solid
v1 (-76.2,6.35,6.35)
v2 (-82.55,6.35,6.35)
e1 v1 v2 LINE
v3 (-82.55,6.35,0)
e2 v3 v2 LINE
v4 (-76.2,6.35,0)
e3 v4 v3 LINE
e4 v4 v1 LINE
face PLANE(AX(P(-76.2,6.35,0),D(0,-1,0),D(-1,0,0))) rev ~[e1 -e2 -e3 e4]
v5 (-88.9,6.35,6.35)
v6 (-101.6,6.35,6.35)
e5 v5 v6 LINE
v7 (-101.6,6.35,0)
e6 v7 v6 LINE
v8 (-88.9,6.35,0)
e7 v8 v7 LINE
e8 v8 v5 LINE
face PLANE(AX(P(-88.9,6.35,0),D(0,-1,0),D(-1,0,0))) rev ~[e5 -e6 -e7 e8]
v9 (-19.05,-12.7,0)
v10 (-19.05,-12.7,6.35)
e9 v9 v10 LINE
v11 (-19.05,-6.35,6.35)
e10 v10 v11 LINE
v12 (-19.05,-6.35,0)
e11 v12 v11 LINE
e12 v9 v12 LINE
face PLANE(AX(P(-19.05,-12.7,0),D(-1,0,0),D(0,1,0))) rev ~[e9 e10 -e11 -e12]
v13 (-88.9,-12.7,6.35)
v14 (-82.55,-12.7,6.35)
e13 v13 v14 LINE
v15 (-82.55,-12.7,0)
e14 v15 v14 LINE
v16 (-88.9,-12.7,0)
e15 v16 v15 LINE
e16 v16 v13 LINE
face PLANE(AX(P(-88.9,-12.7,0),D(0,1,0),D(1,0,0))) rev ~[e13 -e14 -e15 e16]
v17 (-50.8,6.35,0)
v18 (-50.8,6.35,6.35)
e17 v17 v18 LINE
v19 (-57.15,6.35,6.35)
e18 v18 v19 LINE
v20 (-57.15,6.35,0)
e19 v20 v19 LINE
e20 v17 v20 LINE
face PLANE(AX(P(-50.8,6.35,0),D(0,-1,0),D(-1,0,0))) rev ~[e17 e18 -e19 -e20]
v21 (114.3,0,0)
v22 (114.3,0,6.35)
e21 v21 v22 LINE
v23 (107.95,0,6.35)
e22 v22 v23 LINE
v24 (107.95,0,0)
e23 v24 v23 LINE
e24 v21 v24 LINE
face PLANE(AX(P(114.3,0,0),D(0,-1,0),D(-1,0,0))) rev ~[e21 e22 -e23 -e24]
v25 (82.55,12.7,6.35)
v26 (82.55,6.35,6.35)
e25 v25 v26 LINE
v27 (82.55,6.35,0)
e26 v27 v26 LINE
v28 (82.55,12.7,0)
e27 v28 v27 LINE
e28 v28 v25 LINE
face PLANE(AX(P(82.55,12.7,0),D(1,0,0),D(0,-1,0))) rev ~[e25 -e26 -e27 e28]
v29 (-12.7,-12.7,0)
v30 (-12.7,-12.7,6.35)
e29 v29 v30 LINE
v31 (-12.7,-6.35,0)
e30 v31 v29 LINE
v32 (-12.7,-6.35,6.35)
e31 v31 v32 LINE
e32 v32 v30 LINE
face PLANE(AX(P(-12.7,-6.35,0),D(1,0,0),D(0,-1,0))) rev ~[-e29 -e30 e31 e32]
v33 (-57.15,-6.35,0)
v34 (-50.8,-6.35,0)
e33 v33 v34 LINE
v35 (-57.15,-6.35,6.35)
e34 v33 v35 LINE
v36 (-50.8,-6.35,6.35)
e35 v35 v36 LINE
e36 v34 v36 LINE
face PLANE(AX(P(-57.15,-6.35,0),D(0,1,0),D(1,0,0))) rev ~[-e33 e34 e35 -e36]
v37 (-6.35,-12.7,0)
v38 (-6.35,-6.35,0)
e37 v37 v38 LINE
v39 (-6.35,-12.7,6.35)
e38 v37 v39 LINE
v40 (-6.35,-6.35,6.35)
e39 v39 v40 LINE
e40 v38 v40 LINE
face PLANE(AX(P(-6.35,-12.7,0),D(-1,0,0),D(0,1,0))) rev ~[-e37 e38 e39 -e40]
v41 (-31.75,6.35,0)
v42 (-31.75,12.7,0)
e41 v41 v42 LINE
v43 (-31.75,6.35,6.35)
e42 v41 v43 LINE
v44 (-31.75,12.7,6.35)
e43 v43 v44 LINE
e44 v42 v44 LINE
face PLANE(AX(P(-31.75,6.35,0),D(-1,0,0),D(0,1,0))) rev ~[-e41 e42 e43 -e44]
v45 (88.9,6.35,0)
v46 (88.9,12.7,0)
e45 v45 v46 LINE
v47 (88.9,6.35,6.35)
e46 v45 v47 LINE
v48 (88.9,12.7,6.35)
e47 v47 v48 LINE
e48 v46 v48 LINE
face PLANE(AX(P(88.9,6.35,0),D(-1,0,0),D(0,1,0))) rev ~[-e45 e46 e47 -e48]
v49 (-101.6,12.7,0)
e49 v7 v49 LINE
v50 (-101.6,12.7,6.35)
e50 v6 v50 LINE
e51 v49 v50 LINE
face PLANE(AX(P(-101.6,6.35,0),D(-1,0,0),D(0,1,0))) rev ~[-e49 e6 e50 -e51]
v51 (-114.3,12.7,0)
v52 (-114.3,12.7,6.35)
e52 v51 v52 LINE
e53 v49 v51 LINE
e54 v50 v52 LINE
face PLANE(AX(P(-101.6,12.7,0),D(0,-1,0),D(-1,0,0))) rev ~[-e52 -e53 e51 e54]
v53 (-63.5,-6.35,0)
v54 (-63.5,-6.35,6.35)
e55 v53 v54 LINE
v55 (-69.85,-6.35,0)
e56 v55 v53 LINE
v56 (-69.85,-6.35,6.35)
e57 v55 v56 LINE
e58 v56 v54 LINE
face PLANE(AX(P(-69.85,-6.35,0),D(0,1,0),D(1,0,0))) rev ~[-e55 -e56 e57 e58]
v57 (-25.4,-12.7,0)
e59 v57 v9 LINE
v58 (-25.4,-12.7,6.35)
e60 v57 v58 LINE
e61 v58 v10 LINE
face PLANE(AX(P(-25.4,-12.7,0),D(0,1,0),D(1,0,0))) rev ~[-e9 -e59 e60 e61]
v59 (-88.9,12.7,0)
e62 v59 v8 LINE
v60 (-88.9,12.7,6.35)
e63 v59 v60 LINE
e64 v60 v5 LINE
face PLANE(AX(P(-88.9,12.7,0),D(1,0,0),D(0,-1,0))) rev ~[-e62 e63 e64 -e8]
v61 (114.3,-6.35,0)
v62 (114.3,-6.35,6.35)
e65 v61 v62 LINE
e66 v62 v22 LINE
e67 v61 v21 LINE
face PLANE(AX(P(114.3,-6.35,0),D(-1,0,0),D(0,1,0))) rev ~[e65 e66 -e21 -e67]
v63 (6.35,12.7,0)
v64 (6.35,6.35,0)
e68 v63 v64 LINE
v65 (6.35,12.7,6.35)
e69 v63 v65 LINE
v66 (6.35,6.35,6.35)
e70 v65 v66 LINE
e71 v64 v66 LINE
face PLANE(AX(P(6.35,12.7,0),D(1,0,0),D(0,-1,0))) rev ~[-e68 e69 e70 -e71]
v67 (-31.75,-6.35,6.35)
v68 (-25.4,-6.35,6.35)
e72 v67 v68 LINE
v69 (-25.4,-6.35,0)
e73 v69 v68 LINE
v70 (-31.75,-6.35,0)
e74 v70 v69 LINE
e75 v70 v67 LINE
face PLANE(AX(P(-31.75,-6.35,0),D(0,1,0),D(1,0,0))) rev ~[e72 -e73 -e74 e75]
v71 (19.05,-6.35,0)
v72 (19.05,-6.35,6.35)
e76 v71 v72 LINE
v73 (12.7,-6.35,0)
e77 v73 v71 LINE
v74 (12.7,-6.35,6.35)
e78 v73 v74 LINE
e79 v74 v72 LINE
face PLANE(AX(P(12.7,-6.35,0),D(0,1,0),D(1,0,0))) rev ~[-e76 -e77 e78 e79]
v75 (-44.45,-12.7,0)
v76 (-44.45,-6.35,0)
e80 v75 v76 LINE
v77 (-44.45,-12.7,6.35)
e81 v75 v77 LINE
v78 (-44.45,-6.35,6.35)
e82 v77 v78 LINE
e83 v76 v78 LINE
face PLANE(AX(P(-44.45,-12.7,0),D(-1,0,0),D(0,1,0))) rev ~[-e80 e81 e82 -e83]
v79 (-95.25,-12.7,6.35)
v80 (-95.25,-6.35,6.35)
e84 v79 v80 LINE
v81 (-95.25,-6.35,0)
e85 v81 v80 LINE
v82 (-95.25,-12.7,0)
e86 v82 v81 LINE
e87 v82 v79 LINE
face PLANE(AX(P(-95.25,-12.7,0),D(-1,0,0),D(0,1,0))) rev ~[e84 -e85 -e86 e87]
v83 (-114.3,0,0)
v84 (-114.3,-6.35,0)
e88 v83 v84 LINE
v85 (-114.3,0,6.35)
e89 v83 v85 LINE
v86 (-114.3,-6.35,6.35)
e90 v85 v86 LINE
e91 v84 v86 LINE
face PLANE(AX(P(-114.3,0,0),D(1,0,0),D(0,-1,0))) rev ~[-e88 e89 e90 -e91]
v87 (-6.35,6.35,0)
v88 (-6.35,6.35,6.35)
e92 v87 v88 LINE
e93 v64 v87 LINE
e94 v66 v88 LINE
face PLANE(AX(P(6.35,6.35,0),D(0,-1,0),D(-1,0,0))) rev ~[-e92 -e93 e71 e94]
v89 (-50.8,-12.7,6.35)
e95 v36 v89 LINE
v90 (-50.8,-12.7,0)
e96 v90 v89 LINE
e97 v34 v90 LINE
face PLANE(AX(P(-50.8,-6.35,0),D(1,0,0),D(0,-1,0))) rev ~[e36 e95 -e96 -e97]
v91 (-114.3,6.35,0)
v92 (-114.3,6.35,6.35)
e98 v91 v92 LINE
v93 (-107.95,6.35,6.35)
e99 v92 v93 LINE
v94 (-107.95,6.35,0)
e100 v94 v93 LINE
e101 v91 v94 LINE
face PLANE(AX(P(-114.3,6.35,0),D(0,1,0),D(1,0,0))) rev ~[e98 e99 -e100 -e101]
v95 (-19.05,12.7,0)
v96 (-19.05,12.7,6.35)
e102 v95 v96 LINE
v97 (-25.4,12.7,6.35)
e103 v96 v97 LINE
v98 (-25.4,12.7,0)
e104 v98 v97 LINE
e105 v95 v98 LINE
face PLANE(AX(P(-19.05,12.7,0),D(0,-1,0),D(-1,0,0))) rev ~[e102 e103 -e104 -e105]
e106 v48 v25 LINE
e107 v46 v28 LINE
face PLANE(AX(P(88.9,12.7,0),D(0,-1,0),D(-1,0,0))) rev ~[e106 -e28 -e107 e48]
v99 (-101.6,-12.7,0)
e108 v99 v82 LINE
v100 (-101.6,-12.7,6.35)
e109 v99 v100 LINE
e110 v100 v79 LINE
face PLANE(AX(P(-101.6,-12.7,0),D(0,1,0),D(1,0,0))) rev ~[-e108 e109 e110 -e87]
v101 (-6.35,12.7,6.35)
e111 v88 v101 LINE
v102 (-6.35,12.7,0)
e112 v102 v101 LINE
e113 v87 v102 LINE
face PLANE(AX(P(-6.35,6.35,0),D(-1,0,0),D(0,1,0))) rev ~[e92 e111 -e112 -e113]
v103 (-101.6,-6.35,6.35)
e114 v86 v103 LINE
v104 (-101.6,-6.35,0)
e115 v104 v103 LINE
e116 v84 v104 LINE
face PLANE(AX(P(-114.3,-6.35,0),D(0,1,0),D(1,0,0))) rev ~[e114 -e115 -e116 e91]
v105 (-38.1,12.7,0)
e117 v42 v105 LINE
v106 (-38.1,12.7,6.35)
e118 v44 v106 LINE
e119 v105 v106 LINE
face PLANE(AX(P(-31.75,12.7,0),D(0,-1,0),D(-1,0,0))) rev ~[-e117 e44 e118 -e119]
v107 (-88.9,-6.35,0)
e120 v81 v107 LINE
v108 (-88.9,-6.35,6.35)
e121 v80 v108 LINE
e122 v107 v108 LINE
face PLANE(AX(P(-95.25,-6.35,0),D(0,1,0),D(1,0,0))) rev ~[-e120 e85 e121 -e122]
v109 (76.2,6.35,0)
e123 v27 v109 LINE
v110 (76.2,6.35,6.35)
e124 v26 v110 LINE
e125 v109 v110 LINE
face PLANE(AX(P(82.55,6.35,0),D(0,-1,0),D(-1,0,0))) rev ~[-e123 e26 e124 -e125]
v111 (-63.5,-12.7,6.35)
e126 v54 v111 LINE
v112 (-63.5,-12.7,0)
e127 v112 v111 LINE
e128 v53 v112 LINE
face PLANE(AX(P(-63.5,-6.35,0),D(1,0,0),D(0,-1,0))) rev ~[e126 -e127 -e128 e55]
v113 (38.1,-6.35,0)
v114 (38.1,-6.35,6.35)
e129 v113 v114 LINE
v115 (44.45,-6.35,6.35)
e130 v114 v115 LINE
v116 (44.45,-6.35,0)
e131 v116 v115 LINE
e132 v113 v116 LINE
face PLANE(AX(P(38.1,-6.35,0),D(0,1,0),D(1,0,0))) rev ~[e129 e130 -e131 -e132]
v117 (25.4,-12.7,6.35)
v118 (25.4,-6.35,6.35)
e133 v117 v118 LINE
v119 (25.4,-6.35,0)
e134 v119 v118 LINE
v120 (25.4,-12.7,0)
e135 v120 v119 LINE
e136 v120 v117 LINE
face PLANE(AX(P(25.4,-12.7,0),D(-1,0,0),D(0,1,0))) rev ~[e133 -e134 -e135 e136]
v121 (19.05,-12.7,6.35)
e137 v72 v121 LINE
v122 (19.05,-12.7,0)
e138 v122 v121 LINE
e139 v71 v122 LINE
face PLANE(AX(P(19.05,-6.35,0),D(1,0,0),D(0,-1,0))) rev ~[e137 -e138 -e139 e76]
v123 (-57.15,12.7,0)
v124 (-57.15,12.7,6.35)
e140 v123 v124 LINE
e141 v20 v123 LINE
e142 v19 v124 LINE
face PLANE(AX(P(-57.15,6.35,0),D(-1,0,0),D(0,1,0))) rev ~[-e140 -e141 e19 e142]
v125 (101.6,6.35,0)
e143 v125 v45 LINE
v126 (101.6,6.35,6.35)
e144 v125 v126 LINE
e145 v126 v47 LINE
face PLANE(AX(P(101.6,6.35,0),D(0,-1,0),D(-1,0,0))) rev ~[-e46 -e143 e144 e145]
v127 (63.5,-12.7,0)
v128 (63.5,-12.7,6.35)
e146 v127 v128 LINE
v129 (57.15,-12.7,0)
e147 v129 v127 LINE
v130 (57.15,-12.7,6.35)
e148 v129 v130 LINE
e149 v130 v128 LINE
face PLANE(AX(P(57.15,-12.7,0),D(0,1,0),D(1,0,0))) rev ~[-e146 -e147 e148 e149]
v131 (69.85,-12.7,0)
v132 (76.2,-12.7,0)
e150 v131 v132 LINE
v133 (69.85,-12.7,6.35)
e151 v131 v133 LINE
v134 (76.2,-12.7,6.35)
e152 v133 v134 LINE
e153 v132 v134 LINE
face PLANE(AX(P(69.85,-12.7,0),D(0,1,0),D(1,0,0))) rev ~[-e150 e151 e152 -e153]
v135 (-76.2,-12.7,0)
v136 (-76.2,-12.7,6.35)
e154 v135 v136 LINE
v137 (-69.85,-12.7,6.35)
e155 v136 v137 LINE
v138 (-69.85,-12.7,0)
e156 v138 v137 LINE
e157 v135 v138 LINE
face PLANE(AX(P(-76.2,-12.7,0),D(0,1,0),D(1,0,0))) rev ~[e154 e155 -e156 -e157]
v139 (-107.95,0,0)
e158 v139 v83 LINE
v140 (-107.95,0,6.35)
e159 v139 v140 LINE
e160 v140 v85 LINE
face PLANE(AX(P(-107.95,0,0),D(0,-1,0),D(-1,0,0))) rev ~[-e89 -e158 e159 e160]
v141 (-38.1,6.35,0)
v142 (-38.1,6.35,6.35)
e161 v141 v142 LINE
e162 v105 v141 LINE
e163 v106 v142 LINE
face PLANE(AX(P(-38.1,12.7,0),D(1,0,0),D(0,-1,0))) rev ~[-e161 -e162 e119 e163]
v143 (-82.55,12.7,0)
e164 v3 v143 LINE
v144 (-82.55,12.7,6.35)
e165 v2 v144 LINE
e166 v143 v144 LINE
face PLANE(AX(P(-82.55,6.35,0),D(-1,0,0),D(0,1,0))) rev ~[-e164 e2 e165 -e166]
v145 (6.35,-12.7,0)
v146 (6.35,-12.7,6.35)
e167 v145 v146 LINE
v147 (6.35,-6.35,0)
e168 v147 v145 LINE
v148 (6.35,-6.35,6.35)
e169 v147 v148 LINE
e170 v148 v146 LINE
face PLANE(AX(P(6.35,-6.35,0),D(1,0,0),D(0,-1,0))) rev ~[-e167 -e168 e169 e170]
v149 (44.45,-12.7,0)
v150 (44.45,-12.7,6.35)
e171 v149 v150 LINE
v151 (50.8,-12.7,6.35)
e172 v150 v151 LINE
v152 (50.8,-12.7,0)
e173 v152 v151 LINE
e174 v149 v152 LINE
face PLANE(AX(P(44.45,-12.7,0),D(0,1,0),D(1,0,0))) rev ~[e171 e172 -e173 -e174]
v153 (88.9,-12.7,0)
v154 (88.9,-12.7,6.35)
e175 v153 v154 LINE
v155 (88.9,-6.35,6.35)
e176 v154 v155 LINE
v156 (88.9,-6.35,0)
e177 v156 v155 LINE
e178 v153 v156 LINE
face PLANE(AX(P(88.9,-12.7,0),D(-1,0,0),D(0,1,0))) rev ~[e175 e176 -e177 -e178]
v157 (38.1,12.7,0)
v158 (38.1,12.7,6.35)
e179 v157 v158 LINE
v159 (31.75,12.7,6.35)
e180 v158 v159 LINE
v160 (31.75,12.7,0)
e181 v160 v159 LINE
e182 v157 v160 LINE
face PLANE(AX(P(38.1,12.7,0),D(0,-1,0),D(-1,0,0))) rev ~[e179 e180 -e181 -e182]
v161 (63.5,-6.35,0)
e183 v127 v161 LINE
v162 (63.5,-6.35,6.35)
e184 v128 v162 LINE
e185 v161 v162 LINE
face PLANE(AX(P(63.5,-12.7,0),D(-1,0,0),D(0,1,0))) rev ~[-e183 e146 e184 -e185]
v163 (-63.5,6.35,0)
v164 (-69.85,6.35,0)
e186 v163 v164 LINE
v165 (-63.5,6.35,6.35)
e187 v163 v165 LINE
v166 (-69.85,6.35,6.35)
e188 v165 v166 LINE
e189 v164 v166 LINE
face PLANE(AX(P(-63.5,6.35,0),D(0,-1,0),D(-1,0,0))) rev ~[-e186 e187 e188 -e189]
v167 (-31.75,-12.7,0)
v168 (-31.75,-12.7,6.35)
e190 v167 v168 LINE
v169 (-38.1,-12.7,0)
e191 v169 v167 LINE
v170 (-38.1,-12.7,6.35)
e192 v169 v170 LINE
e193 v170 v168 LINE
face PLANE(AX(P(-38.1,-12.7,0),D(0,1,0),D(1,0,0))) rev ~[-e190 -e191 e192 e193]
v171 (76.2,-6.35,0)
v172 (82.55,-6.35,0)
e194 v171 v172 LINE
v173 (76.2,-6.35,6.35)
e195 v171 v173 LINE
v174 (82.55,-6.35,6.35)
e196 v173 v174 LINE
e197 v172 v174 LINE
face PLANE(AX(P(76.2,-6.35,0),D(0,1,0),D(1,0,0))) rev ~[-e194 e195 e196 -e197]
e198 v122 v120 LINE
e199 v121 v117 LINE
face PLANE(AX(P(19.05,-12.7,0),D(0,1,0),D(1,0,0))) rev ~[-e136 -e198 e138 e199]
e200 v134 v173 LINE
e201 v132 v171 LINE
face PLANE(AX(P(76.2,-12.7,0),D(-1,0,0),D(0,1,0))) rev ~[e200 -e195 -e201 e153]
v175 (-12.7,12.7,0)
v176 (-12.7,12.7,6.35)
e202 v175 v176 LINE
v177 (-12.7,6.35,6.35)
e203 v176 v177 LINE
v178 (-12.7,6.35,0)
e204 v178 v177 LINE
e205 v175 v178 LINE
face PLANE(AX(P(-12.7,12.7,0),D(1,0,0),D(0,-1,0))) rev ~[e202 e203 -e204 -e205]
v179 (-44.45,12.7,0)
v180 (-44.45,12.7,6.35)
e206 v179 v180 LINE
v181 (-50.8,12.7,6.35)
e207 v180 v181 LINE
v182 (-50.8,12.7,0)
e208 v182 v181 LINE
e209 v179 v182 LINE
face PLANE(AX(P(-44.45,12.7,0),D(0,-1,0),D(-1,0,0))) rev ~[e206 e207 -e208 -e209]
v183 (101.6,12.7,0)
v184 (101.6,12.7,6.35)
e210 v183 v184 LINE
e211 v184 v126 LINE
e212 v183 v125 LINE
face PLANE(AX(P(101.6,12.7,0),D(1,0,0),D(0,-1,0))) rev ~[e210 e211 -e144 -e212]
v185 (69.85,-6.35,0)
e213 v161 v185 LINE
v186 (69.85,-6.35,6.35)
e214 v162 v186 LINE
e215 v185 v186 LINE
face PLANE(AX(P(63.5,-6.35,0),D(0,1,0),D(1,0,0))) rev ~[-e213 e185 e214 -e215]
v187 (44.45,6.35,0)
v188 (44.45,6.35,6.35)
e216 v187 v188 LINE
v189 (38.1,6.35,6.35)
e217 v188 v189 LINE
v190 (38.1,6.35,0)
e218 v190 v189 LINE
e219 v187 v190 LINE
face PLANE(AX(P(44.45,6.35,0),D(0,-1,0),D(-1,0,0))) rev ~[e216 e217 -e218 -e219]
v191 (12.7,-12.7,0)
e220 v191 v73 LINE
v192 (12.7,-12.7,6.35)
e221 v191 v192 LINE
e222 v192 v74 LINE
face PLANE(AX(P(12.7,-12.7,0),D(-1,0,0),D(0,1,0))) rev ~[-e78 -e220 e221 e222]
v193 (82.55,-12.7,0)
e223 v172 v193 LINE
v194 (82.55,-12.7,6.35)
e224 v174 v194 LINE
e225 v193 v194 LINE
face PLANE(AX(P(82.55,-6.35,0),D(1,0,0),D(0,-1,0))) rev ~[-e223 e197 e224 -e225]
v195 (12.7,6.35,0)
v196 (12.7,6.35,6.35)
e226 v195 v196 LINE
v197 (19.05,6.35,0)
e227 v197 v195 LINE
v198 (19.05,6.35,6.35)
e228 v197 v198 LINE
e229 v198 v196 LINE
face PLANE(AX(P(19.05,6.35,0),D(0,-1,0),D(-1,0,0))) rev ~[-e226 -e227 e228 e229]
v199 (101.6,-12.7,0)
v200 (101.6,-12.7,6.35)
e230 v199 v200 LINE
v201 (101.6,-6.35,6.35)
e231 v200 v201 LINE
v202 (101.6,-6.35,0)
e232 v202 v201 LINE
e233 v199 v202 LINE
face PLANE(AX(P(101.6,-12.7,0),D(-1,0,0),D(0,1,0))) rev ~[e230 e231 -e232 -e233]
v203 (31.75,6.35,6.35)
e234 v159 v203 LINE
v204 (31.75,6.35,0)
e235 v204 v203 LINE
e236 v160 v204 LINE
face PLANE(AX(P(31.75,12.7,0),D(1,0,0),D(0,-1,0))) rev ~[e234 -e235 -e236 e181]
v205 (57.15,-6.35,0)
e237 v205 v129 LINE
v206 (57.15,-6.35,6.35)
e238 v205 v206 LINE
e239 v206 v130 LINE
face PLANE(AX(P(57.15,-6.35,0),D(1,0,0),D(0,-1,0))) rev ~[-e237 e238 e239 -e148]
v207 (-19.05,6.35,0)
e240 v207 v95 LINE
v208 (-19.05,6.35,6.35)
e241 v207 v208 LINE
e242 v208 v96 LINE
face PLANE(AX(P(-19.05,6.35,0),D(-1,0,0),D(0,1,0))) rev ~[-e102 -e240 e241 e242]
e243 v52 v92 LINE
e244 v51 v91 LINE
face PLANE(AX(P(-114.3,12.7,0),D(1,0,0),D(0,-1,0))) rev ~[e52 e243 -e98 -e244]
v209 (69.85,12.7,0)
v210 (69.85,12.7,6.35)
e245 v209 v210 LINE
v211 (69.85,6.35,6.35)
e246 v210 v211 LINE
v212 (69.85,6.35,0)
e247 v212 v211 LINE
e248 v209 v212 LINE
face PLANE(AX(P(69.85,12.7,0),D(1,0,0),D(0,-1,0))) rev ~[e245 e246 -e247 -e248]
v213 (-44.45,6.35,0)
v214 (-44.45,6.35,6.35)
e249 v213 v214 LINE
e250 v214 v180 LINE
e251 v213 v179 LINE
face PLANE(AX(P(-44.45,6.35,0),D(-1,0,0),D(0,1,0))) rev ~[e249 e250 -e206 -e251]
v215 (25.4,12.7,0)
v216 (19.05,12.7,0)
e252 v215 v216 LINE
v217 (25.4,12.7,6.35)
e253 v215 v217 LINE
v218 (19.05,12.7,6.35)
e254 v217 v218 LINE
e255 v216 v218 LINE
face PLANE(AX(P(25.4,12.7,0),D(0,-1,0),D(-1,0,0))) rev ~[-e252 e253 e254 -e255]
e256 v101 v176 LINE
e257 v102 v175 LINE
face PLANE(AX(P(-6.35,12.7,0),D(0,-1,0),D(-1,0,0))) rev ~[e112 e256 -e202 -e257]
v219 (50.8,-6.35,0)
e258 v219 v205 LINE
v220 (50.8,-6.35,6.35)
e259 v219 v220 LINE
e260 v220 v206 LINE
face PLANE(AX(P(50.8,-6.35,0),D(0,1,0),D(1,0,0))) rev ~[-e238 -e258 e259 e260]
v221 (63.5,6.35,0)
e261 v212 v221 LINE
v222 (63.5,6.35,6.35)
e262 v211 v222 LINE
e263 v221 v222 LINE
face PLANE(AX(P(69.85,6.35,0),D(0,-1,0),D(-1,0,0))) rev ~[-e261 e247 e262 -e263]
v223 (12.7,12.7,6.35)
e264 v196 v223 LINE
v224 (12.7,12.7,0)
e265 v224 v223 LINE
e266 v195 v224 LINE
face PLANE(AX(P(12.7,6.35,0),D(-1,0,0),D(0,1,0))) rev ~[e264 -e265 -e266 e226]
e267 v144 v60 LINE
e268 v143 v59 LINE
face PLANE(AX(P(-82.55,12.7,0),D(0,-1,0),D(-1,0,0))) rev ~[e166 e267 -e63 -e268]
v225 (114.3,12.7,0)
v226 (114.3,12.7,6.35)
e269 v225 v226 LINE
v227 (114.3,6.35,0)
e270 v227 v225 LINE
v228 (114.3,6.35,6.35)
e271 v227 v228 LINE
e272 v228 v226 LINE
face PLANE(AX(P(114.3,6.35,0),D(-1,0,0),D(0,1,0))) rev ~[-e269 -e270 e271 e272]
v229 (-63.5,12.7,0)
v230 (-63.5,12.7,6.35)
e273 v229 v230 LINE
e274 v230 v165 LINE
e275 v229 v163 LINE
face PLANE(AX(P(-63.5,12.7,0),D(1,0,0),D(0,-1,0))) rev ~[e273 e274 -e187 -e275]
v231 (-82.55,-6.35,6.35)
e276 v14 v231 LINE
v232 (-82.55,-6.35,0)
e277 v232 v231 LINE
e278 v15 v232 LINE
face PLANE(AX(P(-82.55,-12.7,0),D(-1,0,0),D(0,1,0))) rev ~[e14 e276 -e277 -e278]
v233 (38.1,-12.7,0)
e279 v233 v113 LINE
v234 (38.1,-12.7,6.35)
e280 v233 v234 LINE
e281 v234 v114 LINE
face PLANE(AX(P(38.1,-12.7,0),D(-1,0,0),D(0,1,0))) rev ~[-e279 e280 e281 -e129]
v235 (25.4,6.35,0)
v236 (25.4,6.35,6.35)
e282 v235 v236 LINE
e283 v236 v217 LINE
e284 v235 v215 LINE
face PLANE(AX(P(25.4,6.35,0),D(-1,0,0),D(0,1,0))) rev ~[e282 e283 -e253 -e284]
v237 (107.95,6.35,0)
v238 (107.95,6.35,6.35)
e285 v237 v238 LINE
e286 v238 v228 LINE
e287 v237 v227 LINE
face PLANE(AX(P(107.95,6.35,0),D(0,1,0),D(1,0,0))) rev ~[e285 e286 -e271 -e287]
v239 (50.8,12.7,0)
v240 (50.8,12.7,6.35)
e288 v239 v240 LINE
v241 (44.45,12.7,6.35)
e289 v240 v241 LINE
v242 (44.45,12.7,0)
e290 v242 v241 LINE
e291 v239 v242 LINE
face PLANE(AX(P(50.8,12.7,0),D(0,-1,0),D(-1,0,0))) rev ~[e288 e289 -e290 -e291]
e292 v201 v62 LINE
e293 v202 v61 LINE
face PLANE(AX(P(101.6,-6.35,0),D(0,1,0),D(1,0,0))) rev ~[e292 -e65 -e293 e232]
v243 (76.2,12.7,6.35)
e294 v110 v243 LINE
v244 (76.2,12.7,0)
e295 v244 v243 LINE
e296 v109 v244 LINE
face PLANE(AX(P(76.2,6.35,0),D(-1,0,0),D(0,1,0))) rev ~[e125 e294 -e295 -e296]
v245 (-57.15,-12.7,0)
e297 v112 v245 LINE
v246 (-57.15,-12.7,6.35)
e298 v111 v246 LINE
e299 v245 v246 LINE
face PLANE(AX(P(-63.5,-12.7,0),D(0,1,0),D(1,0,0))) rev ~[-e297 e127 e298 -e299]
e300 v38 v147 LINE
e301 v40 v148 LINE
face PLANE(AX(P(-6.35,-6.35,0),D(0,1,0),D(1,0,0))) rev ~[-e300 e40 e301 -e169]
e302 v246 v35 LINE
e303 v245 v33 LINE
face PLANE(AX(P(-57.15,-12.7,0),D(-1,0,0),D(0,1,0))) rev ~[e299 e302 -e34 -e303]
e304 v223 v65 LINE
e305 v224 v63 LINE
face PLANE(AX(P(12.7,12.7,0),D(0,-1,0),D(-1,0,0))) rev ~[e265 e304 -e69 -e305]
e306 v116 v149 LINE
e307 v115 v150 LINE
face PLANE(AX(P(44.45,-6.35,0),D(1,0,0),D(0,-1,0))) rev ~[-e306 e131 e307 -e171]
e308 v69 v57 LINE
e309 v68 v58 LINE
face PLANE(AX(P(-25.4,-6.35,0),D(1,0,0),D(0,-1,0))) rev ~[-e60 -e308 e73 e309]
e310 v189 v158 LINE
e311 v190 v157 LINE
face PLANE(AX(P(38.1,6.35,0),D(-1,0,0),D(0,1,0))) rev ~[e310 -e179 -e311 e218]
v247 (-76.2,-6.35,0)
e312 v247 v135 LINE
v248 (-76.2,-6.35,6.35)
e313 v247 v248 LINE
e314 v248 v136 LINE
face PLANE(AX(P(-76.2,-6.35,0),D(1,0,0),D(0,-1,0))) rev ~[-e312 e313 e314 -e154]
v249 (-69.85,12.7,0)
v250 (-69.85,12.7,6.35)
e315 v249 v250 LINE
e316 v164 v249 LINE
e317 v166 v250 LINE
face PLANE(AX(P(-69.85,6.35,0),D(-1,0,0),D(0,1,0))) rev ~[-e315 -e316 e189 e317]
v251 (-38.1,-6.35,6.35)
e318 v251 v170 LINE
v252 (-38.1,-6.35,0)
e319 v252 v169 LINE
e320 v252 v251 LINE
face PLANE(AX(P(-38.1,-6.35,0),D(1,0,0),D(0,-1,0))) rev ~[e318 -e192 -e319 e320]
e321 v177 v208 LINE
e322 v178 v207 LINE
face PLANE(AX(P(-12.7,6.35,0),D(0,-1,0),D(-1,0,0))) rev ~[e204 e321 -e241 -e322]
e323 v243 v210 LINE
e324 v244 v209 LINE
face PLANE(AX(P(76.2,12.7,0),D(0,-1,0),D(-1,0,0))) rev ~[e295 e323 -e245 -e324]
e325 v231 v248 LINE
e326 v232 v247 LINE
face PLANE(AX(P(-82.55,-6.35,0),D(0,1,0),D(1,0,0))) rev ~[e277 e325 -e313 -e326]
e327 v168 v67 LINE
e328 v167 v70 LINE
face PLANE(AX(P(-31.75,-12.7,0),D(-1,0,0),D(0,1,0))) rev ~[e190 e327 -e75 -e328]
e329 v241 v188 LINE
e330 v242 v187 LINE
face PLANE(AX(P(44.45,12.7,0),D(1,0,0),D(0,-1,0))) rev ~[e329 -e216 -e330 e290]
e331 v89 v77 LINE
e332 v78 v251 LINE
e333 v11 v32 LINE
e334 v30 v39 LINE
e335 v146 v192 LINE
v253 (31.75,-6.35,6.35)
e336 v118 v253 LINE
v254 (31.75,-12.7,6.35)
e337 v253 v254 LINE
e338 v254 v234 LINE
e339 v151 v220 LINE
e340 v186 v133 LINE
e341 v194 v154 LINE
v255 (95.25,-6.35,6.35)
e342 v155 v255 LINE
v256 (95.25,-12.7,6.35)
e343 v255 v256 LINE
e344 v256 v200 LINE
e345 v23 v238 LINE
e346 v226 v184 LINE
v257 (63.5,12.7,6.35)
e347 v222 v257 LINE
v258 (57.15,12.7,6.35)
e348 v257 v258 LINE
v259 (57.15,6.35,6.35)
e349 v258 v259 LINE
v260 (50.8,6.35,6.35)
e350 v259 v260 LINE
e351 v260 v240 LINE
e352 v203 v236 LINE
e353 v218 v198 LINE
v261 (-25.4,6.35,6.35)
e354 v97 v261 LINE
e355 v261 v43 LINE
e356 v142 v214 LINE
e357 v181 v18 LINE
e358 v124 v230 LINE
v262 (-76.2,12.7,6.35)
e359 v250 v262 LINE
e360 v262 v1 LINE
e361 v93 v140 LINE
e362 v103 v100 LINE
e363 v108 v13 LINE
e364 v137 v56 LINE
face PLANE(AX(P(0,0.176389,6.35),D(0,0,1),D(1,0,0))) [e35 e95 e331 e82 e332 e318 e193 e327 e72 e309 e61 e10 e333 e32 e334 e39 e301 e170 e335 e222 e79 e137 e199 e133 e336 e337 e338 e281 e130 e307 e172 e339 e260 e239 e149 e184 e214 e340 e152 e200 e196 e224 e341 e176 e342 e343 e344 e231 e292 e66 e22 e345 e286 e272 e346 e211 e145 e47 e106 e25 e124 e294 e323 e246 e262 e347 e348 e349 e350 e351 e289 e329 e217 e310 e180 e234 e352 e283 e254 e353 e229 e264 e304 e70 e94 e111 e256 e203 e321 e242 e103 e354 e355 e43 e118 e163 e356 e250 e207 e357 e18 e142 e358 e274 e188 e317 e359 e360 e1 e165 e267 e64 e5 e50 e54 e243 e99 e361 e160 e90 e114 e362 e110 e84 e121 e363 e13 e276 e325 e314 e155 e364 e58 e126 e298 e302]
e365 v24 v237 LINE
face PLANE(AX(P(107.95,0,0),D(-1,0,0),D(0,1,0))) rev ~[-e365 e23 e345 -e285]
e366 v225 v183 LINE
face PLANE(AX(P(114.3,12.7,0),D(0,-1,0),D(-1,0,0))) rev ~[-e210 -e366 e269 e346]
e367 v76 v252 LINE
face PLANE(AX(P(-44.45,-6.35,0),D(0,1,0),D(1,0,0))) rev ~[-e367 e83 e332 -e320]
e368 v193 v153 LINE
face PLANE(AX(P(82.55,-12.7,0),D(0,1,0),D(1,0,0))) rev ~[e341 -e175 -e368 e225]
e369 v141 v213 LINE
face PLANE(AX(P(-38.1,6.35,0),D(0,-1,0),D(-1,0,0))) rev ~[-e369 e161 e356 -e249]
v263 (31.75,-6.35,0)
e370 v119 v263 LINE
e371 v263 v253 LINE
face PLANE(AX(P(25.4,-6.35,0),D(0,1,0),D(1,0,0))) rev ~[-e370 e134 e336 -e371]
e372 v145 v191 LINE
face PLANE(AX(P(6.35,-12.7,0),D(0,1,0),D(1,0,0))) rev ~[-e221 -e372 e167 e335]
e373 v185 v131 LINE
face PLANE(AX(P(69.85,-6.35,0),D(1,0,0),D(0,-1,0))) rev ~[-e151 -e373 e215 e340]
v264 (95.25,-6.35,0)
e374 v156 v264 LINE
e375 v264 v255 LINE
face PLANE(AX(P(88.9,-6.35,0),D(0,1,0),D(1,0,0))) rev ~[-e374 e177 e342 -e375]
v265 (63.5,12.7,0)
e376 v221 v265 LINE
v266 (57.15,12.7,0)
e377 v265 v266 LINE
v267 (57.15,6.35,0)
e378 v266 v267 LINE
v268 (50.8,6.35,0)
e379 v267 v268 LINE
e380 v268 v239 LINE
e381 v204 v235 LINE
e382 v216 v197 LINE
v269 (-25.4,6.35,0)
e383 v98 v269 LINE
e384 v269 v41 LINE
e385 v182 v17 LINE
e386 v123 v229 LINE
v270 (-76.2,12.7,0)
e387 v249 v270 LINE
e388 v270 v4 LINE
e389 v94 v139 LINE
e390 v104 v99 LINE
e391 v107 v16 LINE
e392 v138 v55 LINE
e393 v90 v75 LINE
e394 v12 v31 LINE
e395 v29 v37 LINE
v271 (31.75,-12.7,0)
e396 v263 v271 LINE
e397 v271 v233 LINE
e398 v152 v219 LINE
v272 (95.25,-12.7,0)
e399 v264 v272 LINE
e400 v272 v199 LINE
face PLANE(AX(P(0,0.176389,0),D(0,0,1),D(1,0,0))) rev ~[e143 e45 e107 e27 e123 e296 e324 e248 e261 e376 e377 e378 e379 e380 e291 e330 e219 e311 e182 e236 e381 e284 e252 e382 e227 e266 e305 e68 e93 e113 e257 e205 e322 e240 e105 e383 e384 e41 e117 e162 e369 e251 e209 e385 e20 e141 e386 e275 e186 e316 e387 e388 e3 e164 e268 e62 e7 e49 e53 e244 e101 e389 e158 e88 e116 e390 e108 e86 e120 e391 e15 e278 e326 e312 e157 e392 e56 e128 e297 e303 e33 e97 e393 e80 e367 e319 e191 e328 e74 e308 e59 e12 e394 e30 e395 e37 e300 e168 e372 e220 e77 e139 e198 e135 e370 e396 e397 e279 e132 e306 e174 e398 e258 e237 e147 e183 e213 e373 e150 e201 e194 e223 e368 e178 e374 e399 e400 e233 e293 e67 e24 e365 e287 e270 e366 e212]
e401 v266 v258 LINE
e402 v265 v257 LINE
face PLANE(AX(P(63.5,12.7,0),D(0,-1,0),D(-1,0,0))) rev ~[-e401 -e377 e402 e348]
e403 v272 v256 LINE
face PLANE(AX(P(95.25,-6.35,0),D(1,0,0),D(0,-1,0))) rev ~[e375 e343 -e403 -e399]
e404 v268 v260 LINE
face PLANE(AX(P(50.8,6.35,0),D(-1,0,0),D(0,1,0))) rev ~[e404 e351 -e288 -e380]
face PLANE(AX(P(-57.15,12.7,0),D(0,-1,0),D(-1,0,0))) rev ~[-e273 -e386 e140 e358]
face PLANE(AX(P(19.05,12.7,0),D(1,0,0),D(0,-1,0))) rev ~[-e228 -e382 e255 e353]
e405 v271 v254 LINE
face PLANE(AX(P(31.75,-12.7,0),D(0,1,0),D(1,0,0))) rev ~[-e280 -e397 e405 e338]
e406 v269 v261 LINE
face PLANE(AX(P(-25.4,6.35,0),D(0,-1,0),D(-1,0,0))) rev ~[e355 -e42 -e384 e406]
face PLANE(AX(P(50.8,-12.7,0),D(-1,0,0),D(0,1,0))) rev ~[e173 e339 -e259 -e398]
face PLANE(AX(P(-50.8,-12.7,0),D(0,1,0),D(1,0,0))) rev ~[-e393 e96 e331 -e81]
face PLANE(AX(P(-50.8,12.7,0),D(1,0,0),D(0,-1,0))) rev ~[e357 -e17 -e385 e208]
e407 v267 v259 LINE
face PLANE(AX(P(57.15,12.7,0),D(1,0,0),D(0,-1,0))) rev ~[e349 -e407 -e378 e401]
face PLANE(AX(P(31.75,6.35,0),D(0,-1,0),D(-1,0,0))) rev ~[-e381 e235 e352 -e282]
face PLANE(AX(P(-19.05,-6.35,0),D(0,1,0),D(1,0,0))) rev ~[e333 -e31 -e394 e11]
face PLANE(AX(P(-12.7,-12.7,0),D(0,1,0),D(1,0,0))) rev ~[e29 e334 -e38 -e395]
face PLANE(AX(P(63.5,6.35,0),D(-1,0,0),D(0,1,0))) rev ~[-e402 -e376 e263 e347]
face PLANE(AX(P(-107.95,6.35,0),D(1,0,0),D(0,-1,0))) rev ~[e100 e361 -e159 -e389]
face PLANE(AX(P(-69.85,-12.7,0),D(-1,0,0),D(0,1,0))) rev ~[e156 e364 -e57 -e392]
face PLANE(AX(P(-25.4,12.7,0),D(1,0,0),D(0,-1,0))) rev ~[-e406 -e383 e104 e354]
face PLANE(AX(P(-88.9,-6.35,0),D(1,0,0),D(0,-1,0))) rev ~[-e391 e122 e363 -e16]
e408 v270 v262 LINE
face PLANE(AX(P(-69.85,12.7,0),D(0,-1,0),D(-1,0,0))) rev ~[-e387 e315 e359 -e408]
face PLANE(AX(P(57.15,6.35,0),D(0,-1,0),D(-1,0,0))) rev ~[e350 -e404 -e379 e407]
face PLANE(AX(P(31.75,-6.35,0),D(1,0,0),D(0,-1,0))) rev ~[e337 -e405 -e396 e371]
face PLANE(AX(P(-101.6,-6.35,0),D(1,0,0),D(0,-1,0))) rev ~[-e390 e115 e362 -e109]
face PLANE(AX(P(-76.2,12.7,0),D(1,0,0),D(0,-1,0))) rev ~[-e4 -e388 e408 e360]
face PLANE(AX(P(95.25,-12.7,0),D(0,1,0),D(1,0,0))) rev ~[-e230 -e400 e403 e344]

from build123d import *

# Parameters (mm, degrees)
BOSS_EXTRUDE1_DEPTH = 6.35


with BuildPart() as part:
    # Sketch1 → Boss-Extrude1 (new body)
    with BuildSketch(Plane.XY):
        Polygon((-107.95, 0), (-114.3, 0), (-114.3, -6.35), (-101.6, -6.35), (-101.6, -12.7), (-95.25, -12.7), (-95.25, -6.35), (-88.9, -6.35), (-88.9, -12.7), (-82.55, -12.7), (-82.55, -6.35), (-76.2, -6.35), (-76.2, -12.7), (-69.85, -12.7), (-69.85, -6.35), (-63.5, -6.35), (-63.5, -12.7), (-57.15, -12.7), (-57.15, -6.35), (-50.8, -6.35), (-50.8, -12.7), (-44.45, -12.7), (-44.45, -6.35), (-38.1, -6.35), (-38.1, -12.7), (-31.75, -12.7), (-31.75, -6.35), (-25.4, -6.35), (-25.4, -12.7), (-19.05, -12.7), (-19.05, -6.35), (-12.7, -6.35), (-12.7, -12.7), (-6.35, -12.7), (-6.35, -6.35), (0, -6.35), (6.35, -6.35), (6.35, -12.7), (12.7, -12.7), (12.7, -6.35), (19.05, -6.35), (19.05, -12.7), (25.4, -12.7), (25.4, -6.35), (31.75, -6.35), (31.75, -12.7), (38.1, -12.7), (38.1, -6.35), (44.45, -6.35), (44.45, -12.7), (50.8, -12.7), (50.8, -6.35), (57.15, -6.35), (57.15, -12.7), (63.5, -12.7), (63.5, -6.35), (69.85, -6.35), (69.85, -12.7), (76.2, -12.7), (76.2, -6.35), (82.55, -6.35), (82.55, -12.7), (88.9, -12.7), (88.9, -6.35), (95.25, -6.35), (95.25, -12.7), (101.6, -12.7), (101.6, -6.35), (114.3, -6.35), (114.3, 0), (107.95, 0), (107.95, 6.35), (114.3, 6.35), (114.3, 12.7), (107.95, 12.7), (101.6, 12.7), (101.6, 6.35), (95.25, 6.35), (88.9, 6.35), (88.9, 12.7), (82.55, 12.7), (82.55, 6.35), (76.2, 6.35), (76.2, 12.7), (69.85, 12.7), (69.85, 6.35), (63.5, 6.35), (63.5, 12.7), (57.15, 12.7), (57.15, 6.35), (50.8, 6.35), (50.8, 12.7), (44.45, 12.7), (44.45, 6.35), (38.1, 6.35), (38.1, 12.7), (31.75, 12.7), (31.75, 6.35), (25.4, 6.35), (25.4, 12.7), (19.05, 12.7), (19.05, 6.35), (12.7, 6.35), (12.7, 12.7), (6.35, 12.7), (6.35, 6.35), (0, 6.35), (-6.35, 6.35), (-6.35, 12.7), (-12.7, 12.7), (-12.7, 6.35), (-19.05, 6.35), (-19.05, 12.7), (-25.4, 12.7), (-25.4, 6.35), (-31.75, 6.35), (-31.75, 12.7), (-38.1, 12.7), (-38.1, 6.35), (-44.45, 6.35), (-44.45, 12.7), (-50.8, 12.7), (-50.8, 6.35), (-57.15, 6.35), (-57.15, 12.7), (-63.5, 12.7), (-63.5, 6.35), (-69.85, 6.35), (-69.85, 12.7), (-76.2, 12.7), (-76.2, 6.35), (-82.55, 6.35), (-82.55, 12.7), (-88.9, 12.7), (-88.9, 6.35), (-95.25, 6.35), (-101.6, 6.35), (-101.6, 12.7), (-107.95, 12.7), (-114.3, 12.7), (-114.3, 6.35), (-107.95, 6.35), align=None)
    extrude(amount=BOSS_EXTRUDE1_DEPTH)


solid = part.part
